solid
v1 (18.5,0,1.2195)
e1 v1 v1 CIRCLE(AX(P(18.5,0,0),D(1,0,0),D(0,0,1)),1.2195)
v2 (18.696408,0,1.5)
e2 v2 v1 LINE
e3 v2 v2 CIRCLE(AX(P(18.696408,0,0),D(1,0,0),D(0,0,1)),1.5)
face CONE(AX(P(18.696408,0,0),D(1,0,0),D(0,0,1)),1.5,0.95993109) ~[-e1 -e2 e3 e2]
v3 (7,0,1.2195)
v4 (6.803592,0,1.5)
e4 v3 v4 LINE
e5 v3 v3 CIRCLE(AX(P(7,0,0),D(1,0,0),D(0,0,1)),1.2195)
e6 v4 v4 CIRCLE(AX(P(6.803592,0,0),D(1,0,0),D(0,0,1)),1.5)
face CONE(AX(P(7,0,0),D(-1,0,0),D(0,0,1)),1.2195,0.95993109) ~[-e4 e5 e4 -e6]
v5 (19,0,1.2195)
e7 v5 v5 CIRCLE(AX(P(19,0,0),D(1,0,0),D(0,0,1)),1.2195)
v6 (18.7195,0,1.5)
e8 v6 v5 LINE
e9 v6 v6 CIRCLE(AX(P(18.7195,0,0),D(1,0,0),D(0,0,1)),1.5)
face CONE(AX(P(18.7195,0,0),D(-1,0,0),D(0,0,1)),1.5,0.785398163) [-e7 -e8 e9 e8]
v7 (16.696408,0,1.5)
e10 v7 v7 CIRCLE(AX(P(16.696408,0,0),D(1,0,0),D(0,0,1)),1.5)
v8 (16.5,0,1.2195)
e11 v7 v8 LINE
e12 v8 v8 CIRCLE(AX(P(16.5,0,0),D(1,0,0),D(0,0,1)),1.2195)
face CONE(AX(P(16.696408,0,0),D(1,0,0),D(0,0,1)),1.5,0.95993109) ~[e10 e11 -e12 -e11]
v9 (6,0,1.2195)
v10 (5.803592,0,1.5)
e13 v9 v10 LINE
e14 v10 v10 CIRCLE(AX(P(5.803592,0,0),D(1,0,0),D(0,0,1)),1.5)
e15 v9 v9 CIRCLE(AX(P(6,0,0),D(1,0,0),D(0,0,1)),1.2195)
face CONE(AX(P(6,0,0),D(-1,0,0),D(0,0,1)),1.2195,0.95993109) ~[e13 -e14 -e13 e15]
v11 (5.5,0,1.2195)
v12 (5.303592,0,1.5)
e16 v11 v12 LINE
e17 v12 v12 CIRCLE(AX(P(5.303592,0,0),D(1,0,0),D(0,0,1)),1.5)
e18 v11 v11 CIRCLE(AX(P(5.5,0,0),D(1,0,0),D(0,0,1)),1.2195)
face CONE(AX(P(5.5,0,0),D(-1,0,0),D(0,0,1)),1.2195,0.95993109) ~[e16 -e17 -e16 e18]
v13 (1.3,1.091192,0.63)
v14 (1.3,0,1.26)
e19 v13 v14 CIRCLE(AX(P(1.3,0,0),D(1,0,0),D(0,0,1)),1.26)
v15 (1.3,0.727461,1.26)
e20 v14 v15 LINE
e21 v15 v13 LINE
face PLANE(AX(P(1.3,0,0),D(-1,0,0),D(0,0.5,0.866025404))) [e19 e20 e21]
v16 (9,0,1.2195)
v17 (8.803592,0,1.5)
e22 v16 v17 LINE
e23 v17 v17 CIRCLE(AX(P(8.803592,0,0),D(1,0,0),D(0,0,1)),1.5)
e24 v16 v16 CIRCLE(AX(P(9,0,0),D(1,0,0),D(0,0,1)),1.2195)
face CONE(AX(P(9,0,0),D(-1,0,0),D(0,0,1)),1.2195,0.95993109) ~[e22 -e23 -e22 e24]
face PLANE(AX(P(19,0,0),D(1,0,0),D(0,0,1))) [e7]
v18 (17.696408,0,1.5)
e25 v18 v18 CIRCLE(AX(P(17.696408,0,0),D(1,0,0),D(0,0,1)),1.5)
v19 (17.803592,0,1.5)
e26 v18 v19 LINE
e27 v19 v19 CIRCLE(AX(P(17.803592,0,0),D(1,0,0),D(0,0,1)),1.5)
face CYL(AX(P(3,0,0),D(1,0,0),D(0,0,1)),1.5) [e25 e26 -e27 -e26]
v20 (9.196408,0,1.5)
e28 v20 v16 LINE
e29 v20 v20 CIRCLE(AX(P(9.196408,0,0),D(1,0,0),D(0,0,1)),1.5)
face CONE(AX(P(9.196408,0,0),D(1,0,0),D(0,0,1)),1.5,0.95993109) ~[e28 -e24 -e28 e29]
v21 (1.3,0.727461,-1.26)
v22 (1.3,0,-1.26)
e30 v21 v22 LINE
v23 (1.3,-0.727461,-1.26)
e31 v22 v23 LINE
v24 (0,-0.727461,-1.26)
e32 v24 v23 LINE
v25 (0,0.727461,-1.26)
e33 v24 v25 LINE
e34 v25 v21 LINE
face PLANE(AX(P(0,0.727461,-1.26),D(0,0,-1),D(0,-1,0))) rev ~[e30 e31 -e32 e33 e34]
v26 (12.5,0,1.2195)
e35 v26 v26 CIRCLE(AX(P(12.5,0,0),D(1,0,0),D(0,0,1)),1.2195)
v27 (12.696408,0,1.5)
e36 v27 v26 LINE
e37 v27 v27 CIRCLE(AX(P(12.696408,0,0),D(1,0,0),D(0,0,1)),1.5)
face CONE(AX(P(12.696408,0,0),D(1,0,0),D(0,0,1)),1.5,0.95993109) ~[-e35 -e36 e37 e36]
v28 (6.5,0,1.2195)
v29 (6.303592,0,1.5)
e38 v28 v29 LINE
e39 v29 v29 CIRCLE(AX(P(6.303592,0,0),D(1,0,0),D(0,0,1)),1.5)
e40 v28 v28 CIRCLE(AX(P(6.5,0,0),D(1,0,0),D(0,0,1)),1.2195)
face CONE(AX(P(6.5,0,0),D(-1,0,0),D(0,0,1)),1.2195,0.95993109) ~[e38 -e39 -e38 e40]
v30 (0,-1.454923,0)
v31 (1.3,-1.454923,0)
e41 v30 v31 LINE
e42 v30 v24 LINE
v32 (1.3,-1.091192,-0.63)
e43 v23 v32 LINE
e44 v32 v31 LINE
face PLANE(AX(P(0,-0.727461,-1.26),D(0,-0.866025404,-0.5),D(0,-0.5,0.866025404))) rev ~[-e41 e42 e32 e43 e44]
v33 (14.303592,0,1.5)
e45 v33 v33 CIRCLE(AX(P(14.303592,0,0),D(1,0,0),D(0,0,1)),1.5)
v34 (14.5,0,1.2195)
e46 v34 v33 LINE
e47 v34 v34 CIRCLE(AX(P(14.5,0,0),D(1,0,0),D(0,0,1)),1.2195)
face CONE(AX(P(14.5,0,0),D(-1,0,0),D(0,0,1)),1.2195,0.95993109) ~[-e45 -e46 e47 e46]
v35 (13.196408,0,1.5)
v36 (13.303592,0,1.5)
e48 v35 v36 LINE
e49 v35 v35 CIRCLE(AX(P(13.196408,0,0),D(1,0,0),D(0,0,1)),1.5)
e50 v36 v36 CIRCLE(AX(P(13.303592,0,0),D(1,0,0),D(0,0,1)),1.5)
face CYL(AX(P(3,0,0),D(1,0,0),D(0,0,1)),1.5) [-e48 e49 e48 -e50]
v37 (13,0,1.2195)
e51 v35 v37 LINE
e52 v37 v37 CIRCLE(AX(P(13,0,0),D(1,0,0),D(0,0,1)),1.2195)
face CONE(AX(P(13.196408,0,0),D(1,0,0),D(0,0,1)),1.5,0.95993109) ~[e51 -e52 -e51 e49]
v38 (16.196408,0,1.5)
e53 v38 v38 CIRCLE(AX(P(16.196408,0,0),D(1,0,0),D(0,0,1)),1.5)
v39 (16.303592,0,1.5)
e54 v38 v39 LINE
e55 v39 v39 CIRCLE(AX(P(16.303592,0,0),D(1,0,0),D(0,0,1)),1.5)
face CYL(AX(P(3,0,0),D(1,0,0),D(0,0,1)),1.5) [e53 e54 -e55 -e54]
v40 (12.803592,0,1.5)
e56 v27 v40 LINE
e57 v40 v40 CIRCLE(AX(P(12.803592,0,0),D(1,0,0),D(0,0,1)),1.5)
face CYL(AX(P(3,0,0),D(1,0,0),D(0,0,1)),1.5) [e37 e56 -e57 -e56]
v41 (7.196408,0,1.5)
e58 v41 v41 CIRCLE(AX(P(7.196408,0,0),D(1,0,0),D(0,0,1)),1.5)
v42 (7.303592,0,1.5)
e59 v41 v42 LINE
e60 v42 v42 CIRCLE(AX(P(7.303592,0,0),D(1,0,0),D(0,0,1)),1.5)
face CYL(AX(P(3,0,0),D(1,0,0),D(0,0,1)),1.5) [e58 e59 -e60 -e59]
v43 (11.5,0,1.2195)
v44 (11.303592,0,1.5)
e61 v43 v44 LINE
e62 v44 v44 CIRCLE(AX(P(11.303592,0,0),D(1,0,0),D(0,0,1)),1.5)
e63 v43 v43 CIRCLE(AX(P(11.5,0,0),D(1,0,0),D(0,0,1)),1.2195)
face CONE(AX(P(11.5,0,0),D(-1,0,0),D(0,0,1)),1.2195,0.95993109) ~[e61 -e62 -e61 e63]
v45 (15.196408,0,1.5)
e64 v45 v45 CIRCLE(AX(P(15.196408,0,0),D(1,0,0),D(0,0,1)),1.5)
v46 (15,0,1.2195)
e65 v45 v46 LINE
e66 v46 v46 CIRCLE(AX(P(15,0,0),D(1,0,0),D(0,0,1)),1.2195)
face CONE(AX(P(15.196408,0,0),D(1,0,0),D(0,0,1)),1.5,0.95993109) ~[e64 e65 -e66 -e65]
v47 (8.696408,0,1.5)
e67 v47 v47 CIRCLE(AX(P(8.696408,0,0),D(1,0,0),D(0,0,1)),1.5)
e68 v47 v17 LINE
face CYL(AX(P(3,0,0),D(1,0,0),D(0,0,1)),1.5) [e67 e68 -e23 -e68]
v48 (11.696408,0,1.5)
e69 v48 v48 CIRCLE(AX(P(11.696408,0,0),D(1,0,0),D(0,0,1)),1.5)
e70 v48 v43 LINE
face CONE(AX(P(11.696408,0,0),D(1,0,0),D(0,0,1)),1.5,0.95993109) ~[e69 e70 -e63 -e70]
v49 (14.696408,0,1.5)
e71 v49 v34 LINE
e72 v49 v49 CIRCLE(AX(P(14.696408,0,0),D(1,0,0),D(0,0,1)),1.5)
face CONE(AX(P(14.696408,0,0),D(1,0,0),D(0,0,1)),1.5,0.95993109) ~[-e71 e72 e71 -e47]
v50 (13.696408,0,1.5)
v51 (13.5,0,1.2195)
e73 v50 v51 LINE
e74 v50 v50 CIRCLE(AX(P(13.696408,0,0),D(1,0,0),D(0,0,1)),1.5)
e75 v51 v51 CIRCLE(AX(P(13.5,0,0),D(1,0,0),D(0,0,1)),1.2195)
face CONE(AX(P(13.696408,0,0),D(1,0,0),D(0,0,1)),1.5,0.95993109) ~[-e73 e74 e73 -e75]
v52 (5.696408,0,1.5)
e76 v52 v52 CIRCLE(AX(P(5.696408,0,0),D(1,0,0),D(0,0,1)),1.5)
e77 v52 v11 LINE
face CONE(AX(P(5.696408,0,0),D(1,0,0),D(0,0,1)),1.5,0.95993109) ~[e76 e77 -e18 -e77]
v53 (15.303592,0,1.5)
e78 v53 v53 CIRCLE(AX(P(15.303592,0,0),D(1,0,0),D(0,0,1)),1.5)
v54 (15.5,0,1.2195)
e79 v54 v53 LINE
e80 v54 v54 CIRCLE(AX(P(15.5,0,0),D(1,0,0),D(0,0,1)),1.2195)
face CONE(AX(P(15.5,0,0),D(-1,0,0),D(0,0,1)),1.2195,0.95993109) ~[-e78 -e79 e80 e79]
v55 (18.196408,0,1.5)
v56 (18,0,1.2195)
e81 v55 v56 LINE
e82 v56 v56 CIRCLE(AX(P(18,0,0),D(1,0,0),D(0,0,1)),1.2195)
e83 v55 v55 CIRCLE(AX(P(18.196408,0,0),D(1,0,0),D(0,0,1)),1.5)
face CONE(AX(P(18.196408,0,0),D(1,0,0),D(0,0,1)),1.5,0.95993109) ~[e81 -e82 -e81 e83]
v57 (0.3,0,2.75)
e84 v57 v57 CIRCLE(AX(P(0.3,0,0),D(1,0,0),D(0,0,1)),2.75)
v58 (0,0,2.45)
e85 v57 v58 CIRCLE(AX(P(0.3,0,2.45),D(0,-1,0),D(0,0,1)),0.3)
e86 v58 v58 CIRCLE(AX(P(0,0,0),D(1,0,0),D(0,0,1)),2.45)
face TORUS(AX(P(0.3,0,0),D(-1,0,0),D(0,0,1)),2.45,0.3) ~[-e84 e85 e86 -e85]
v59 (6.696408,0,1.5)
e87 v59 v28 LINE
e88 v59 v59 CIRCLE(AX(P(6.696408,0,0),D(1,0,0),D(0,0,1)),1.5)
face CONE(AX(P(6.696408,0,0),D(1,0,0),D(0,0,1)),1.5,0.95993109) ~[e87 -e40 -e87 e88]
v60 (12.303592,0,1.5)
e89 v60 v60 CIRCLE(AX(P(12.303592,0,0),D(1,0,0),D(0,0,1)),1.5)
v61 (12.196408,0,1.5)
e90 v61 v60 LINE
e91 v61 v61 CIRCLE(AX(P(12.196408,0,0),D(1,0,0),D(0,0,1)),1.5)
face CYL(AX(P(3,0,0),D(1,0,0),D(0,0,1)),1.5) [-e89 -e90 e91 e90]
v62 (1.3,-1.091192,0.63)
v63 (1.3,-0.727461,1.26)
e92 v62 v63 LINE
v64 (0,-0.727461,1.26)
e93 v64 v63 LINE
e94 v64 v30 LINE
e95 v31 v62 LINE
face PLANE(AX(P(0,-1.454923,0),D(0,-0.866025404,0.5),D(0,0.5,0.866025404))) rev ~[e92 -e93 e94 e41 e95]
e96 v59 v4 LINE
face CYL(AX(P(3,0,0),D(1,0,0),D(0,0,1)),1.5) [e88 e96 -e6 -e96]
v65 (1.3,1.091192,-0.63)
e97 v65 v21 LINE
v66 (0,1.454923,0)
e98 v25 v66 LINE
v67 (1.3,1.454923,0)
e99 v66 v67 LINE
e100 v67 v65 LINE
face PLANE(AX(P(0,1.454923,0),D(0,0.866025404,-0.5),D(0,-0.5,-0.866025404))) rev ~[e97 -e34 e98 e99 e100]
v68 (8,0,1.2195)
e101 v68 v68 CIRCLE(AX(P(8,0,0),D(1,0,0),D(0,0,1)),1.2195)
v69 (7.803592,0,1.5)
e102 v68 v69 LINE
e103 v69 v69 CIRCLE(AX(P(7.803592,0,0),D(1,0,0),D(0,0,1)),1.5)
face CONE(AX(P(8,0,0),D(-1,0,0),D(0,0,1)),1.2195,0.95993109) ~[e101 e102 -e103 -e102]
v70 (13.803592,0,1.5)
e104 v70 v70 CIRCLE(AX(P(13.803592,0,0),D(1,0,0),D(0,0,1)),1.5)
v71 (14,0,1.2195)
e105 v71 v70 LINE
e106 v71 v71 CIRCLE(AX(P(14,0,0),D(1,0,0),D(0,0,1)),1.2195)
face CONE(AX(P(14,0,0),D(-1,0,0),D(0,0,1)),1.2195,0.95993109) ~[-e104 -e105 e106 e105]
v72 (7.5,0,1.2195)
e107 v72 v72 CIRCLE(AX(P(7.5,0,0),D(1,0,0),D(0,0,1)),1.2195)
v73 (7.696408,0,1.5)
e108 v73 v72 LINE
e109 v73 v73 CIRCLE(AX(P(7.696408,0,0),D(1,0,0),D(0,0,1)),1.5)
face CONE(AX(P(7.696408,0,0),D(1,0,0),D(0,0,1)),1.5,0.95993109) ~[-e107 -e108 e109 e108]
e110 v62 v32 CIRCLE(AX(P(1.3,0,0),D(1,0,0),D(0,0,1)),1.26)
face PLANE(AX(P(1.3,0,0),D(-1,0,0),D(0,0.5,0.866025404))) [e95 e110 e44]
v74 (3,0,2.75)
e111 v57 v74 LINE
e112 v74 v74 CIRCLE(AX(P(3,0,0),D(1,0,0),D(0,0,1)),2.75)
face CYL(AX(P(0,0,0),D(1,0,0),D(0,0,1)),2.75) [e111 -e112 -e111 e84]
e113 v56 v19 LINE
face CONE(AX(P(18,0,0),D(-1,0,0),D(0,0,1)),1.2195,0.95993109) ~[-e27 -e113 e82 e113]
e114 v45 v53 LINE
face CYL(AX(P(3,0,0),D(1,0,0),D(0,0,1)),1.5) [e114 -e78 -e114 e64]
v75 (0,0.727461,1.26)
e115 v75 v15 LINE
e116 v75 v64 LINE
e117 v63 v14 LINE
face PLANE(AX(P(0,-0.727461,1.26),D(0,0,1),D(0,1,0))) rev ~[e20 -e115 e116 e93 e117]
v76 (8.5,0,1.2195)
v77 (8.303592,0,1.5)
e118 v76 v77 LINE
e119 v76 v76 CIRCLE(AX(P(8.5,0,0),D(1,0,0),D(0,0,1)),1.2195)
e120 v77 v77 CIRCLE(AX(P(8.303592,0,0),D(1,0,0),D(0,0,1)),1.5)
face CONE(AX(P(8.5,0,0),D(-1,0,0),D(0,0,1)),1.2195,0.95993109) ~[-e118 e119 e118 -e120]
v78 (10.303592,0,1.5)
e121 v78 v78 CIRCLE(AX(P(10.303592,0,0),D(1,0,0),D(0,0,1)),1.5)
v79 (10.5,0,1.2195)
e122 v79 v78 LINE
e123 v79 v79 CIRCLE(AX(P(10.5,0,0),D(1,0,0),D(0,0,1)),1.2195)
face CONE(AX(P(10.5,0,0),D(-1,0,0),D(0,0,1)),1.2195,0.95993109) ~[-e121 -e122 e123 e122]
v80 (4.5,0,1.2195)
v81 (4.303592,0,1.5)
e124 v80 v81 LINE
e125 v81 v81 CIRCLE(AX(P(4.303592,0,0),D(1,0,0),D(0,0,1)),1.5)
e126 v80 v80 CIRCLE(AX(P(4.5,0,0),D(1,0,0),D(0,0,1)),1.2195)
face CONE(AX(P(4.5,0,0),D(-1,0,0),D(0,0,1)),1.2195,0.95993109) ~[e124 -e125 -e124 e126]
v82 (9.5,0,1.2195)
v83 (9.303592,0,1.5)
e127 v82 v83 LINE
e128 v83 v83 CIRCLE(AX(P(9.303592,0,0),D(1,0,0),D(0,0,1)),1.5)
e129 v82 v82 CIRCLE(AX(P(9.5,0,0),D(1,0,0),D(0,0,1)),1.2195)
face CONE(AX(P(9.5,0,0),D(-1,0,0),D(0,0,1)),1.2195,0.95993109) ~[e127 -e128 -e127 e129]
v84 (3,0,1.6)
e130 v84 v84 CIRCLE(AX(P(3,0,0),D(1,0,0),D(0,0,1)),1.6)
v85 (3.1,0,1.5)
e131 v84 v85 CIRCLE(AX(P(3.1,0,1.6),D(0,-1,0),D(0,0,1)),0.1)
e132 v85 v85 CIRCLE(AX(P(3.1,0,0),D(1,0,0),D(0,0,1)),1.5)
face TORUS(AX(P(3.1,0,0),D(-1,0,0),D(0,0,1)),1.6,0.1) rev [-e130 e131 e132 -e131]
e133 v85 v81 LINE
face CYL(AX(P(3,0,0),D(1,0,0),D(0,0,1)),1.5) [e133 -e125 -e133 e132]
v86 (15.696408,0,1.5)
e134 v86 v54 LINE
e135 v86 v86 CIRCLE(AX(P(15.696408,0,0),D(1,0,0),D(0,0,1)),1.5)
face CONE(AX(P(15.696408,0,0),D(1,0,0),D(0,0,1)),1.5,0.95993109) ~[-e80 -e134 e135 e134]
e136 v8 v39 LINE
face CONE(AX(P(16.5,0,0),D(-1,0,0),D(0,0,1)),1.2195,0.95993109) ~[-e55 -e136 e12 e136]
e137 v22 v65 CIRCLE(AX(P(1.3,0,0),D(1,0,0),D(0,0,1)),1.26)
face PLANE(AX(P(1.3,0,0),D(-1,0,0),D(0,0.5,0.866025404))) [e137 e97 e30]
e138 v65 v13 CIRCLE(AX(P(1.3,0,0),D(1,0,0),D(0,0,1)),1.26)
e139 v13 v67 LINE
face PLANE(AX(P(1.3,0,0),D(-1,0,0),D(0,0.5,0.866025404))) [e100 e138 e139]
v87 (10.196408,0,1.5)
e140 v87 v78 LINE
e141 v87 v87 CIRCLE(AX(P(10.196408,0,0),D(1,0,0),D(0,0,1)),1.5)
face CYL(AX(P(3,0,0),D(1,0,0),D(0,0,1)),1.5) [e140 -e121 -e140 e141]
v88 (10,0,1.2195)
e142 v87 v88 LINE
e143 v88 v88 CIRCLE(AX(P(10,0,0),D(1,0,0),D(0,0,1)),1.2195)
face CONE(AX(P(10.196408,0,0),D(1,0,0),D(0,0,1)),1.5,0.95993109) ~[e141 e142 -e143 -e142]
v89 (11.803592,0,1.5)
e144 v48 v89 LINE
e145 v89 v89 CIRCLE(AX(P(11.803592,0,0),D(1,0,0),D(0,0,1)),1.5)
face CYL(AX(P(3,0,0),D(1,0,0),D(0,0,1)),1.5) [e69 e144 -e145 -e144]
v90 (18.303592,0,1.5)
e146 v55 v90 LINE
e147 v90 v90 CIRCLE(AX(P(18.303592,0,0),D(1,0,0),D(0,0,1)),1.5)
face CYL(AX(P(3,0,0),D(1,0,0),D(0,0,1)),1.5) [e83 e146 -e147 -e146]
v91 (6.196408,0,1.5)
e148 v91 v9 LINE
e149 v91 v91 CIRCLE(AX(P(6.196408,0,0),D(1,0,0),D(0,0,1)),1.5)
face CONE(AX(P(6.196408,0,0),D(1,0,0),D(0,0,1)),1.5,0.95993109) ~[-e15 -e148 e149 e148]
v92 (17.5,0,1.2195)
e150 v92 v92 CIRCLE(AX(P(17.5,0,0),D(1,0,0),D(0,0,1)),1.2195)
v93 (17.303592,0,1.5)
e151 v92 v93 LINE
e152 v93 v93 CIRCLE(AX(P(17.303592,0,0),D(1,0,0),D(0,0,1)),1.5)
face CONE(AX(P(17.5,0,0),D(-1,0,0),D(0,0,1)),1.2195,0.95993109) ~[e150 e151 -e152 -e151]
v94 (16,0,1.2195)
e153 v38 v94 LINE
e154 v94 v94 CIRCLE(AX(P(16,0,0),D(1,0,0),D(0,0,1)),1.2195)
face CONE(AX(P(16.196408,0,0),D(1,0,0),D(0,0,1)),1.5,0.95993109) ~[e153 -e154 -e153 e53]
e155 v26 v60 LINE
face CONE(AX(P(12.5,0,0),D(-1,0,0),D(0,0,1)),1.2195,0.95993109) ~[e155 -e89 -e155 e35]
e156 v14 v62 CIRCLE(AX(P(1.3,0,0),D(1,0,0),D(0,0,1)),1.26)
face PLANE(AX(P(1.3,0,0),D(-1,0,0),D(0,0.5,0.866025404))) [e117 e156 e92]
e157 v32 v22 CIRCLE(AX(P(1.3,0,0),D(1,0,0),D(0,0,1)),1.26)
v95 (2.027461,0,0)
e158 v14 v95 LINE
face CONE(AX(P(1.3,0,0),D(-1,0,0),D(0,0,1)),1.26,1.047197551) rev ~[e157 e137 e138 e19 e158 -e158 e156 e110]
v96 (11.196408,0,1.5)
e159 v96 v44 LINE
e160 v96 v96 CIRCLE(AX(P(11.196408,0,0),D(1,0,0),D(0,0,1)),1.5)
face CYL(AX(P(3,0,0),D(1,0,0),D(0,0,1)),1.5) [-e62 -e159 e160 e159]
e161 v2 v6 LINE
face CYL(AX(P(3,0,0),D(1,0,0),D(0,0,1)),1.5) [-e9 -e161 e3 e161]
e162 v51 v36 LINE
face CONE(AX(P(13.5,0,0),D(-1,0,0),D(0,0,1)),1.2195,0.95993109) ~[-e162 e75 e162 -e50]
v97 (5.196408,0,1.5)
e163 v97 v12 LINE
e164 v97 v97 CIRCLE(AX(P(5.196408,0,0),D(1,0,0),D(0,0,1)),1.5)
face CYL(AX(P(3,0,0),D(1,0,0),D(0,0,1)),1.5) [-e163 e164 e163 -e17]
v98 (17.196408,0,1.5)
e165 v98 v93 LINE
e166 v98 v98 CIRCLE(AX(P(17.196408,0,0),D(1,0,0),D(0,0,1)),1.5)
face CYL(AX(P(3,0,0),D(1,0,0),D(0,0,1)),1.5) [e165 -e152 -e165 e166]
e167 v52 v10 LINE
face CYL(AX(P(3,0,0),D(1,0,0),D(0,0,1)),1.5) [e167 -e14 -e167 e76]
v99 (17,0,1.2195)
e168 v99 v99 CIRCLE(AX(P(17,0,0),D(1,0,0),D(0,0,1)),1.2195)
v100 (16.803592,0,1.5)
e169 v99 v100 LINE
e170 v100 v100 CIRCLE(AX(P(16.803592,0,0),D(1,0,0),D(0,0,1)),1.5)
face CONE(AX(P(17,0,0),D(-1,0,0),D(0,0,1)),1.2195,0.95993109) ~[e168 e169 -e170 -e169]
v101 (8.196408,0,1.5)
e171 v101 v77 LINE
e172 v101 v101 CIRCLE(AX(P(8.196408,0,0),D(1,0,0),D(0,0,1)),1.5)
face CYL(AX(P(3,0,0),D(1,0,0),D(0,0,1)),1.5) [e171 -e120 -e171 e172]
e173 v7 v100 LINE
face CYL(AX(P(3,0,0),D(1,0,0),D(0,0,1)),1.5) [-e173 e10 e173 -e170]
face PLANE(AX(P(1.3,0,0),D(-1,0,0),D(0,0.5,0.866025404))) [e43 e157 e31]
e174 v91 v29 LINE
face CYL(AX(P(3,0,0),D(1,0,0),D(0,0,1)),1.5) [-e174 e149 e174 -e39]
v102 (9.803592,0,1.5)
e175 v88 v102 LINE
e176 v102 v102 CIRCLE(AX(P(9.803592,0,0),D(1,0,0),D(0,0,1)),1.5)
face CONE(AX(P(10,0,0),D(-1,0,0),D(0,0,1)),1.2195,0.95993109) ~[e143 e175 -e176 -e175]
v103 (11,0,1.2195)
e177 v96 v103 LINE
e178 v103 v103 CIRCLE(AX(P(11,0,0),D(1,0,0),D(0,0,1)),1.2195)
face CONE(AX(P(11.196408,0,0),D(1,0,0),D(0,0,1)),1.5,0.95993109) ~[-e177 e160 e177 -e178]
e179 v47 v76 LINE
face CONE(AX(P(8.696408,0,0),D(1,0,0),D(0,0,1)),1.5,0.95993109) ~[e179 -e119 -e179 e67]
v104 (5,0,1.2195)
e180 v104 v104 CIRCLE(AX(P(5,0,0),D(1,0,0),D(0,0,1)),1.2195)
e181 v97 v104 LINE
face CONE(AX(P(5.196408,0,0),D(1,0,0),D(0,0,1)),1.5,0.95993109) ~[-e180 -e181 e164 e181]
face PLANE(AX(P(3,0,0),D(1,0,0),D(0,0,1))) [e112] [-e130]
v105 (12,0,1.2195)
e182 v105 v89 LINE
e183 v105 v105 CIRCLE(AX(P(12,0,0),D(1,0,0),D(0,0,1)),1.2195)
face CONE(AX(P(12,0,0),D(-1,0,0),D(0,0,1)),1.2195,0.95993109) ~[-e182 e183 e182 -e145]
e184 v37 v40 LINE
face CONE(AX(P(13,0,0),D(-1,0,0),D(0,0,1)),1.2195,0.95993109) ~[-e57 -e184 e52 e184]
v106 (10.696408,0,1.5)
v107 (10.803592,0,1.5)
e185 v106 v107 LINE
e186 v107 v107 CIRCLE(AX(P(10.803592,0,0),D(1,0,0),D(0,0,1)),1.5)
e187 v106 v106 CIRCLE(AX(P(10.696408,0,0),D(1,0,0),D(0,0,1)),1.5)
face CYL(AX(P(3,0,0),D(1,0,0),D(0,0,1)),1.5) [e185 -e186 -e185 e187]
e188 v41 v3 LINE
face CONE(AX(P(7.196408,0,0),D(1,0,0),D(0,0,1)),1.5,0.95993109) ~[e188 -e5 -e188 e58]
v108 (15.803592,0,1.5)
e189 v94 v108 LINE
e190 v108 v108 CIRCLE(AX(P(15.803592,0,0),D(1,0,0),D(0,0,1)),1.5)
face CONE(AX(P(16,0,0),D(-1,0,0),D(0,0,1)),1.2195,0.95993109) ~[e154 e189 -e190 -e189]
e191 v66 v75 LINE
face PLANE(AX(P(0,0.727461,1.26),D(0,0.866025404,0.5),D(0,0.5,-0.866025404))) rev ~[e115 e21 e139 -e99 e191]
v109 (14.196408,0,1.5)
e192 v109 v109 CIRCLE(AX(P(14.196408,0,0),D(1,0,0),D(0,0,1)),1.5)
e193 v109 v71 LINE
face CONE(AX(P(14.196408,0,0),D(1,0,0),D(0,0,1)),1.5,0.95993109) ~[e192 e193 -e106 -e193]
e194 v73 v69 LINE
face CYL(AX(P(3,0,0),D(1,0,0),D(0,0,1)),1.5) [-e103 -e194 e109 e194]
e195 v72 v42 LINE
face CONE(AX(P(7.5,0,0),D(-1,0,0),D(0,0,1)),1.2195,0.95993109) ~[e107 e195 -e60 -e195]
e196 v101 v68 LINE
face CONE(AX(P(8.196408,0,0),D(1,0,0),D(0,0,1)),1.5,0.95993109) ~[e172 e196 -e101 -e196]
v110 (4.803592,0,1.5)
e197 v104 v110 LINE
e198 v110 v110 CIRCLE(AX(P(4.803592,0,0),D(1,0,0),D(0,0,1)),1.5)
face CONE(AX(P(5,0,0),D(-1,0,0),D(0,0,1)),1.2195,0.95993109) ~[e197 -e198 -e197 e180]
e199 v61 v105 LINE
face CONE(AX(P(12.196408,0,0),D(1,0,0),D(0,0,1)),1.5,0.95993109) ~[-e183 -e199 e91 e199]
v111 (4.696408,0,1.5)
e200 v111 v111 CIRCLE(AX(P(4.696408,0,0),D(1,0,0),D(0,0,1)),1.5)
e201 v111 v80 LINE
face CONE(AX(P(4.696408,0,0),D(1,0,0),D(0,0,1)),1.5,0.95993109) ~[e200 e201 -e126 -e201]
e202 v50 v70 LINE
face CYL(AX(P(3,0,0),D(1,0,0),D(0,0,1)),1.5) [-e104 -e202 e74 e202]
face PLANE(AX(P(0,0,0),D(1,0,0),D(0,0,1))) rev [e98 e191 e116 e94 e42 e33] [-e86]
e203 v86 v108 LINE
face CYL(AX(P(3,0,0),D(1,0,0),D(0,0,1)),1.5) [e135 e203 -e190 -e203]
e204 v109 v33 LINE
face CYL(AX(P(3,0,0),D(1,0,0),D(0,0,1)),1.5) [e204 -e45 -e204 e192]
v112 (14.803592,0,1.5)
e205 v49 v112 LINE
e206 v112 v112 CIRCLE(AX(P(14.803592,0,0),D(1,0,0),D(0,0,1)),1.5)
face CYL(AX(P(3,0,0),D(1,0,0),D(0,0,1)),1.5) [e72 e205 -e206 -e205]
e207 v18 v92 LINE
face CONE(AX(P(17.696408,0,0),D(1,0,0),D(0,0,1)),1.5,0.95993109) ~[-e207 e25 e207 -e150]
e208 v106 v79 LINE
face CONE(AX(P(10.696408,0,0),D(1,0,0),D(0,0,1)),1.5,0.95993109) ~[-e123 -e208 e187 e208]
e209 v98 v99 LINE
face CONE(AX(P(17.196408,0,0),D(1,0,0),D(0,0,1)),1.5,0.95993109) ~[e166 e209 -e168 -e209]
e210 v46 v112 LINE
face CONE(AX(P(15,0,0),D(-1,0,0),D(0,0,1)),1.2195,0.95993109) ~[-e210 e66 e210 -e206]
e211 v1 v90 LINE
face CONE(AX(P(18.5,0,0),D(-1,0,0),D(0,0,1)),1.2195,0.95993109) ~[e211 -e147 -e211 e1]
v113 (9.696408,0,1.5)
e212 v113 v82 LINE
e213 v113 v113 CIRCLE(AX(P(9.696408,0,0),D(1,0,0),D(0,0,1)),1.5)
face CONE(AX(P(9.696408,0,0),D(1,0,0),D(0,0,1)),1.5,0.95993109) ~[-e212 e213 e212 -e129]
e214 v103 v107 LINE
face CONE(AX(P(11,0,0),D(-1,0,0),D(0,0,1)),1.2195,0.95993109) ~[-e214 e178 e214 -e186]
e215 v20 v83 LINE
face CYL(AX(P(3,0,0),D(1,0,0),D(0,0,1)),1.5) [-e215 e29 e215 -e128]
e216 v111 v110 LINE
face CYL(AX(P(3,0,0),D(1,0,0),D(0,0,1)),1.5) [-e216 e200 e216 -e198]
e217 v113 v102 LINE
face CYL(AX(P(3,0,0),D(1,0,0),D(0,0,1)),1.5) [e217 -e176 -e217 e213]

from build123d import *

# Parameters (mm, degrees)
FILLET1_R       = 0.1
FILLET2_R       = 0.3
HEX_2_DEPTH     = 1.3
THDSCHPAT_COUNT = 29
THDSCHPAT_PITCH = 0.5


with BuildPart() as part:
    # BodySke → Base-Revolve (revolve)
    with BuildSketch(Plane.XY, mode=Mode.PRIVATE) as base_revolve_sk:
        Polygon((0, 0), (0, 2.75), (3, 2.75), (3, 1.5), (18.7195, 1.5), (19, 1.2195), (19, 0), align=None)
    revolve(base_revolve_sk.sketch.rotate(Axis((-31.75, 0, 0), (1, 0, 0)), 90), axis=Axis((-31.75, 0, 0), (1, 0, 0)))  # turned: the seam where the file's is

    # Fillet1
    fillet1_edges = [part.edges().sort_by_distance(p)[0] for p in [
        (3, 0, -1.5),
    ]]
    fillet(fillet1_edges, radius=FILLET1_R)

    # Fillet2
    fillet2_edges = [part.edges().sort_by_distance(p)[0] for p in [
        (0, 0, -2.75),
    ]]
    fillet(fillet2_edges, radius=FILLET2_R)

    # Sketch2 → Hex-PreBroach (revolve, cut)
    with BuildSketch(Plane.XY, mode=Mode.PRIVATE) as hex_prebroach_sk:
        Polygon((0, 1.26), (1.3, 1.26), (2.027461339, 0), (0, 0), align=None)
    revolve(hex_prebroach_sk.sketch.rotate(Axis((0, 0, 0), (1, 0, 0)), 90), axis=Axis((0, 0, 0), (1, 0, 0)), mode=Mode.SUBTRACT)  # turned: the seam where the file's is

    # Sketch3 → Hex 2 (cut)
    with BuildSketch(Plane(origin=(0, 0, 0), x_dir=(0, 0.5, 0.866025404), z_dir=(-1, 0, 0))):
        Polygon((0.727461339, 1.26), (-0.727461339, 1.26), (-1.454922678, 0), (-0.727461339, -1.26), (0.727461339, -1.26), (1.454922678, 0), align=None)
    extrude(amount=-HEX_2_DEPTH, mode=Mode.SUBTRACT)

    # ThdSchSke → ThreadSchematic (revolve, cut)
    with BuildSketch(Plane.XY, mode=Mode.PRIVATE) as threadschematic_sk:
        Polygon((4.5, -1.2195), (4.303591786, -1.5), (4.303591786, -1.875), (4.696408214, -1.875), (4.696408214, -1.5), align=None)
    threadschematic = revolve(threadschematic_sk.sketch.rotate(Axis((-3.175, 0, 0), (1, 0, 0)), 270), axis=Axis((-3.175, 0, 0), (1, 0, 0)), mode=Mode.SUBTRACT)  # turned: the seam where the file's is

    # ThdSchPat: ThreadSchematic ×29
    with Locations(*[(i * THDSCHPAT_PITCH, 0, 0) for i in range(1, THDSCHPAT_COUNT)]):
        add(threadschematic, mode=Mode.SUBTRACT)


solid = part.part
